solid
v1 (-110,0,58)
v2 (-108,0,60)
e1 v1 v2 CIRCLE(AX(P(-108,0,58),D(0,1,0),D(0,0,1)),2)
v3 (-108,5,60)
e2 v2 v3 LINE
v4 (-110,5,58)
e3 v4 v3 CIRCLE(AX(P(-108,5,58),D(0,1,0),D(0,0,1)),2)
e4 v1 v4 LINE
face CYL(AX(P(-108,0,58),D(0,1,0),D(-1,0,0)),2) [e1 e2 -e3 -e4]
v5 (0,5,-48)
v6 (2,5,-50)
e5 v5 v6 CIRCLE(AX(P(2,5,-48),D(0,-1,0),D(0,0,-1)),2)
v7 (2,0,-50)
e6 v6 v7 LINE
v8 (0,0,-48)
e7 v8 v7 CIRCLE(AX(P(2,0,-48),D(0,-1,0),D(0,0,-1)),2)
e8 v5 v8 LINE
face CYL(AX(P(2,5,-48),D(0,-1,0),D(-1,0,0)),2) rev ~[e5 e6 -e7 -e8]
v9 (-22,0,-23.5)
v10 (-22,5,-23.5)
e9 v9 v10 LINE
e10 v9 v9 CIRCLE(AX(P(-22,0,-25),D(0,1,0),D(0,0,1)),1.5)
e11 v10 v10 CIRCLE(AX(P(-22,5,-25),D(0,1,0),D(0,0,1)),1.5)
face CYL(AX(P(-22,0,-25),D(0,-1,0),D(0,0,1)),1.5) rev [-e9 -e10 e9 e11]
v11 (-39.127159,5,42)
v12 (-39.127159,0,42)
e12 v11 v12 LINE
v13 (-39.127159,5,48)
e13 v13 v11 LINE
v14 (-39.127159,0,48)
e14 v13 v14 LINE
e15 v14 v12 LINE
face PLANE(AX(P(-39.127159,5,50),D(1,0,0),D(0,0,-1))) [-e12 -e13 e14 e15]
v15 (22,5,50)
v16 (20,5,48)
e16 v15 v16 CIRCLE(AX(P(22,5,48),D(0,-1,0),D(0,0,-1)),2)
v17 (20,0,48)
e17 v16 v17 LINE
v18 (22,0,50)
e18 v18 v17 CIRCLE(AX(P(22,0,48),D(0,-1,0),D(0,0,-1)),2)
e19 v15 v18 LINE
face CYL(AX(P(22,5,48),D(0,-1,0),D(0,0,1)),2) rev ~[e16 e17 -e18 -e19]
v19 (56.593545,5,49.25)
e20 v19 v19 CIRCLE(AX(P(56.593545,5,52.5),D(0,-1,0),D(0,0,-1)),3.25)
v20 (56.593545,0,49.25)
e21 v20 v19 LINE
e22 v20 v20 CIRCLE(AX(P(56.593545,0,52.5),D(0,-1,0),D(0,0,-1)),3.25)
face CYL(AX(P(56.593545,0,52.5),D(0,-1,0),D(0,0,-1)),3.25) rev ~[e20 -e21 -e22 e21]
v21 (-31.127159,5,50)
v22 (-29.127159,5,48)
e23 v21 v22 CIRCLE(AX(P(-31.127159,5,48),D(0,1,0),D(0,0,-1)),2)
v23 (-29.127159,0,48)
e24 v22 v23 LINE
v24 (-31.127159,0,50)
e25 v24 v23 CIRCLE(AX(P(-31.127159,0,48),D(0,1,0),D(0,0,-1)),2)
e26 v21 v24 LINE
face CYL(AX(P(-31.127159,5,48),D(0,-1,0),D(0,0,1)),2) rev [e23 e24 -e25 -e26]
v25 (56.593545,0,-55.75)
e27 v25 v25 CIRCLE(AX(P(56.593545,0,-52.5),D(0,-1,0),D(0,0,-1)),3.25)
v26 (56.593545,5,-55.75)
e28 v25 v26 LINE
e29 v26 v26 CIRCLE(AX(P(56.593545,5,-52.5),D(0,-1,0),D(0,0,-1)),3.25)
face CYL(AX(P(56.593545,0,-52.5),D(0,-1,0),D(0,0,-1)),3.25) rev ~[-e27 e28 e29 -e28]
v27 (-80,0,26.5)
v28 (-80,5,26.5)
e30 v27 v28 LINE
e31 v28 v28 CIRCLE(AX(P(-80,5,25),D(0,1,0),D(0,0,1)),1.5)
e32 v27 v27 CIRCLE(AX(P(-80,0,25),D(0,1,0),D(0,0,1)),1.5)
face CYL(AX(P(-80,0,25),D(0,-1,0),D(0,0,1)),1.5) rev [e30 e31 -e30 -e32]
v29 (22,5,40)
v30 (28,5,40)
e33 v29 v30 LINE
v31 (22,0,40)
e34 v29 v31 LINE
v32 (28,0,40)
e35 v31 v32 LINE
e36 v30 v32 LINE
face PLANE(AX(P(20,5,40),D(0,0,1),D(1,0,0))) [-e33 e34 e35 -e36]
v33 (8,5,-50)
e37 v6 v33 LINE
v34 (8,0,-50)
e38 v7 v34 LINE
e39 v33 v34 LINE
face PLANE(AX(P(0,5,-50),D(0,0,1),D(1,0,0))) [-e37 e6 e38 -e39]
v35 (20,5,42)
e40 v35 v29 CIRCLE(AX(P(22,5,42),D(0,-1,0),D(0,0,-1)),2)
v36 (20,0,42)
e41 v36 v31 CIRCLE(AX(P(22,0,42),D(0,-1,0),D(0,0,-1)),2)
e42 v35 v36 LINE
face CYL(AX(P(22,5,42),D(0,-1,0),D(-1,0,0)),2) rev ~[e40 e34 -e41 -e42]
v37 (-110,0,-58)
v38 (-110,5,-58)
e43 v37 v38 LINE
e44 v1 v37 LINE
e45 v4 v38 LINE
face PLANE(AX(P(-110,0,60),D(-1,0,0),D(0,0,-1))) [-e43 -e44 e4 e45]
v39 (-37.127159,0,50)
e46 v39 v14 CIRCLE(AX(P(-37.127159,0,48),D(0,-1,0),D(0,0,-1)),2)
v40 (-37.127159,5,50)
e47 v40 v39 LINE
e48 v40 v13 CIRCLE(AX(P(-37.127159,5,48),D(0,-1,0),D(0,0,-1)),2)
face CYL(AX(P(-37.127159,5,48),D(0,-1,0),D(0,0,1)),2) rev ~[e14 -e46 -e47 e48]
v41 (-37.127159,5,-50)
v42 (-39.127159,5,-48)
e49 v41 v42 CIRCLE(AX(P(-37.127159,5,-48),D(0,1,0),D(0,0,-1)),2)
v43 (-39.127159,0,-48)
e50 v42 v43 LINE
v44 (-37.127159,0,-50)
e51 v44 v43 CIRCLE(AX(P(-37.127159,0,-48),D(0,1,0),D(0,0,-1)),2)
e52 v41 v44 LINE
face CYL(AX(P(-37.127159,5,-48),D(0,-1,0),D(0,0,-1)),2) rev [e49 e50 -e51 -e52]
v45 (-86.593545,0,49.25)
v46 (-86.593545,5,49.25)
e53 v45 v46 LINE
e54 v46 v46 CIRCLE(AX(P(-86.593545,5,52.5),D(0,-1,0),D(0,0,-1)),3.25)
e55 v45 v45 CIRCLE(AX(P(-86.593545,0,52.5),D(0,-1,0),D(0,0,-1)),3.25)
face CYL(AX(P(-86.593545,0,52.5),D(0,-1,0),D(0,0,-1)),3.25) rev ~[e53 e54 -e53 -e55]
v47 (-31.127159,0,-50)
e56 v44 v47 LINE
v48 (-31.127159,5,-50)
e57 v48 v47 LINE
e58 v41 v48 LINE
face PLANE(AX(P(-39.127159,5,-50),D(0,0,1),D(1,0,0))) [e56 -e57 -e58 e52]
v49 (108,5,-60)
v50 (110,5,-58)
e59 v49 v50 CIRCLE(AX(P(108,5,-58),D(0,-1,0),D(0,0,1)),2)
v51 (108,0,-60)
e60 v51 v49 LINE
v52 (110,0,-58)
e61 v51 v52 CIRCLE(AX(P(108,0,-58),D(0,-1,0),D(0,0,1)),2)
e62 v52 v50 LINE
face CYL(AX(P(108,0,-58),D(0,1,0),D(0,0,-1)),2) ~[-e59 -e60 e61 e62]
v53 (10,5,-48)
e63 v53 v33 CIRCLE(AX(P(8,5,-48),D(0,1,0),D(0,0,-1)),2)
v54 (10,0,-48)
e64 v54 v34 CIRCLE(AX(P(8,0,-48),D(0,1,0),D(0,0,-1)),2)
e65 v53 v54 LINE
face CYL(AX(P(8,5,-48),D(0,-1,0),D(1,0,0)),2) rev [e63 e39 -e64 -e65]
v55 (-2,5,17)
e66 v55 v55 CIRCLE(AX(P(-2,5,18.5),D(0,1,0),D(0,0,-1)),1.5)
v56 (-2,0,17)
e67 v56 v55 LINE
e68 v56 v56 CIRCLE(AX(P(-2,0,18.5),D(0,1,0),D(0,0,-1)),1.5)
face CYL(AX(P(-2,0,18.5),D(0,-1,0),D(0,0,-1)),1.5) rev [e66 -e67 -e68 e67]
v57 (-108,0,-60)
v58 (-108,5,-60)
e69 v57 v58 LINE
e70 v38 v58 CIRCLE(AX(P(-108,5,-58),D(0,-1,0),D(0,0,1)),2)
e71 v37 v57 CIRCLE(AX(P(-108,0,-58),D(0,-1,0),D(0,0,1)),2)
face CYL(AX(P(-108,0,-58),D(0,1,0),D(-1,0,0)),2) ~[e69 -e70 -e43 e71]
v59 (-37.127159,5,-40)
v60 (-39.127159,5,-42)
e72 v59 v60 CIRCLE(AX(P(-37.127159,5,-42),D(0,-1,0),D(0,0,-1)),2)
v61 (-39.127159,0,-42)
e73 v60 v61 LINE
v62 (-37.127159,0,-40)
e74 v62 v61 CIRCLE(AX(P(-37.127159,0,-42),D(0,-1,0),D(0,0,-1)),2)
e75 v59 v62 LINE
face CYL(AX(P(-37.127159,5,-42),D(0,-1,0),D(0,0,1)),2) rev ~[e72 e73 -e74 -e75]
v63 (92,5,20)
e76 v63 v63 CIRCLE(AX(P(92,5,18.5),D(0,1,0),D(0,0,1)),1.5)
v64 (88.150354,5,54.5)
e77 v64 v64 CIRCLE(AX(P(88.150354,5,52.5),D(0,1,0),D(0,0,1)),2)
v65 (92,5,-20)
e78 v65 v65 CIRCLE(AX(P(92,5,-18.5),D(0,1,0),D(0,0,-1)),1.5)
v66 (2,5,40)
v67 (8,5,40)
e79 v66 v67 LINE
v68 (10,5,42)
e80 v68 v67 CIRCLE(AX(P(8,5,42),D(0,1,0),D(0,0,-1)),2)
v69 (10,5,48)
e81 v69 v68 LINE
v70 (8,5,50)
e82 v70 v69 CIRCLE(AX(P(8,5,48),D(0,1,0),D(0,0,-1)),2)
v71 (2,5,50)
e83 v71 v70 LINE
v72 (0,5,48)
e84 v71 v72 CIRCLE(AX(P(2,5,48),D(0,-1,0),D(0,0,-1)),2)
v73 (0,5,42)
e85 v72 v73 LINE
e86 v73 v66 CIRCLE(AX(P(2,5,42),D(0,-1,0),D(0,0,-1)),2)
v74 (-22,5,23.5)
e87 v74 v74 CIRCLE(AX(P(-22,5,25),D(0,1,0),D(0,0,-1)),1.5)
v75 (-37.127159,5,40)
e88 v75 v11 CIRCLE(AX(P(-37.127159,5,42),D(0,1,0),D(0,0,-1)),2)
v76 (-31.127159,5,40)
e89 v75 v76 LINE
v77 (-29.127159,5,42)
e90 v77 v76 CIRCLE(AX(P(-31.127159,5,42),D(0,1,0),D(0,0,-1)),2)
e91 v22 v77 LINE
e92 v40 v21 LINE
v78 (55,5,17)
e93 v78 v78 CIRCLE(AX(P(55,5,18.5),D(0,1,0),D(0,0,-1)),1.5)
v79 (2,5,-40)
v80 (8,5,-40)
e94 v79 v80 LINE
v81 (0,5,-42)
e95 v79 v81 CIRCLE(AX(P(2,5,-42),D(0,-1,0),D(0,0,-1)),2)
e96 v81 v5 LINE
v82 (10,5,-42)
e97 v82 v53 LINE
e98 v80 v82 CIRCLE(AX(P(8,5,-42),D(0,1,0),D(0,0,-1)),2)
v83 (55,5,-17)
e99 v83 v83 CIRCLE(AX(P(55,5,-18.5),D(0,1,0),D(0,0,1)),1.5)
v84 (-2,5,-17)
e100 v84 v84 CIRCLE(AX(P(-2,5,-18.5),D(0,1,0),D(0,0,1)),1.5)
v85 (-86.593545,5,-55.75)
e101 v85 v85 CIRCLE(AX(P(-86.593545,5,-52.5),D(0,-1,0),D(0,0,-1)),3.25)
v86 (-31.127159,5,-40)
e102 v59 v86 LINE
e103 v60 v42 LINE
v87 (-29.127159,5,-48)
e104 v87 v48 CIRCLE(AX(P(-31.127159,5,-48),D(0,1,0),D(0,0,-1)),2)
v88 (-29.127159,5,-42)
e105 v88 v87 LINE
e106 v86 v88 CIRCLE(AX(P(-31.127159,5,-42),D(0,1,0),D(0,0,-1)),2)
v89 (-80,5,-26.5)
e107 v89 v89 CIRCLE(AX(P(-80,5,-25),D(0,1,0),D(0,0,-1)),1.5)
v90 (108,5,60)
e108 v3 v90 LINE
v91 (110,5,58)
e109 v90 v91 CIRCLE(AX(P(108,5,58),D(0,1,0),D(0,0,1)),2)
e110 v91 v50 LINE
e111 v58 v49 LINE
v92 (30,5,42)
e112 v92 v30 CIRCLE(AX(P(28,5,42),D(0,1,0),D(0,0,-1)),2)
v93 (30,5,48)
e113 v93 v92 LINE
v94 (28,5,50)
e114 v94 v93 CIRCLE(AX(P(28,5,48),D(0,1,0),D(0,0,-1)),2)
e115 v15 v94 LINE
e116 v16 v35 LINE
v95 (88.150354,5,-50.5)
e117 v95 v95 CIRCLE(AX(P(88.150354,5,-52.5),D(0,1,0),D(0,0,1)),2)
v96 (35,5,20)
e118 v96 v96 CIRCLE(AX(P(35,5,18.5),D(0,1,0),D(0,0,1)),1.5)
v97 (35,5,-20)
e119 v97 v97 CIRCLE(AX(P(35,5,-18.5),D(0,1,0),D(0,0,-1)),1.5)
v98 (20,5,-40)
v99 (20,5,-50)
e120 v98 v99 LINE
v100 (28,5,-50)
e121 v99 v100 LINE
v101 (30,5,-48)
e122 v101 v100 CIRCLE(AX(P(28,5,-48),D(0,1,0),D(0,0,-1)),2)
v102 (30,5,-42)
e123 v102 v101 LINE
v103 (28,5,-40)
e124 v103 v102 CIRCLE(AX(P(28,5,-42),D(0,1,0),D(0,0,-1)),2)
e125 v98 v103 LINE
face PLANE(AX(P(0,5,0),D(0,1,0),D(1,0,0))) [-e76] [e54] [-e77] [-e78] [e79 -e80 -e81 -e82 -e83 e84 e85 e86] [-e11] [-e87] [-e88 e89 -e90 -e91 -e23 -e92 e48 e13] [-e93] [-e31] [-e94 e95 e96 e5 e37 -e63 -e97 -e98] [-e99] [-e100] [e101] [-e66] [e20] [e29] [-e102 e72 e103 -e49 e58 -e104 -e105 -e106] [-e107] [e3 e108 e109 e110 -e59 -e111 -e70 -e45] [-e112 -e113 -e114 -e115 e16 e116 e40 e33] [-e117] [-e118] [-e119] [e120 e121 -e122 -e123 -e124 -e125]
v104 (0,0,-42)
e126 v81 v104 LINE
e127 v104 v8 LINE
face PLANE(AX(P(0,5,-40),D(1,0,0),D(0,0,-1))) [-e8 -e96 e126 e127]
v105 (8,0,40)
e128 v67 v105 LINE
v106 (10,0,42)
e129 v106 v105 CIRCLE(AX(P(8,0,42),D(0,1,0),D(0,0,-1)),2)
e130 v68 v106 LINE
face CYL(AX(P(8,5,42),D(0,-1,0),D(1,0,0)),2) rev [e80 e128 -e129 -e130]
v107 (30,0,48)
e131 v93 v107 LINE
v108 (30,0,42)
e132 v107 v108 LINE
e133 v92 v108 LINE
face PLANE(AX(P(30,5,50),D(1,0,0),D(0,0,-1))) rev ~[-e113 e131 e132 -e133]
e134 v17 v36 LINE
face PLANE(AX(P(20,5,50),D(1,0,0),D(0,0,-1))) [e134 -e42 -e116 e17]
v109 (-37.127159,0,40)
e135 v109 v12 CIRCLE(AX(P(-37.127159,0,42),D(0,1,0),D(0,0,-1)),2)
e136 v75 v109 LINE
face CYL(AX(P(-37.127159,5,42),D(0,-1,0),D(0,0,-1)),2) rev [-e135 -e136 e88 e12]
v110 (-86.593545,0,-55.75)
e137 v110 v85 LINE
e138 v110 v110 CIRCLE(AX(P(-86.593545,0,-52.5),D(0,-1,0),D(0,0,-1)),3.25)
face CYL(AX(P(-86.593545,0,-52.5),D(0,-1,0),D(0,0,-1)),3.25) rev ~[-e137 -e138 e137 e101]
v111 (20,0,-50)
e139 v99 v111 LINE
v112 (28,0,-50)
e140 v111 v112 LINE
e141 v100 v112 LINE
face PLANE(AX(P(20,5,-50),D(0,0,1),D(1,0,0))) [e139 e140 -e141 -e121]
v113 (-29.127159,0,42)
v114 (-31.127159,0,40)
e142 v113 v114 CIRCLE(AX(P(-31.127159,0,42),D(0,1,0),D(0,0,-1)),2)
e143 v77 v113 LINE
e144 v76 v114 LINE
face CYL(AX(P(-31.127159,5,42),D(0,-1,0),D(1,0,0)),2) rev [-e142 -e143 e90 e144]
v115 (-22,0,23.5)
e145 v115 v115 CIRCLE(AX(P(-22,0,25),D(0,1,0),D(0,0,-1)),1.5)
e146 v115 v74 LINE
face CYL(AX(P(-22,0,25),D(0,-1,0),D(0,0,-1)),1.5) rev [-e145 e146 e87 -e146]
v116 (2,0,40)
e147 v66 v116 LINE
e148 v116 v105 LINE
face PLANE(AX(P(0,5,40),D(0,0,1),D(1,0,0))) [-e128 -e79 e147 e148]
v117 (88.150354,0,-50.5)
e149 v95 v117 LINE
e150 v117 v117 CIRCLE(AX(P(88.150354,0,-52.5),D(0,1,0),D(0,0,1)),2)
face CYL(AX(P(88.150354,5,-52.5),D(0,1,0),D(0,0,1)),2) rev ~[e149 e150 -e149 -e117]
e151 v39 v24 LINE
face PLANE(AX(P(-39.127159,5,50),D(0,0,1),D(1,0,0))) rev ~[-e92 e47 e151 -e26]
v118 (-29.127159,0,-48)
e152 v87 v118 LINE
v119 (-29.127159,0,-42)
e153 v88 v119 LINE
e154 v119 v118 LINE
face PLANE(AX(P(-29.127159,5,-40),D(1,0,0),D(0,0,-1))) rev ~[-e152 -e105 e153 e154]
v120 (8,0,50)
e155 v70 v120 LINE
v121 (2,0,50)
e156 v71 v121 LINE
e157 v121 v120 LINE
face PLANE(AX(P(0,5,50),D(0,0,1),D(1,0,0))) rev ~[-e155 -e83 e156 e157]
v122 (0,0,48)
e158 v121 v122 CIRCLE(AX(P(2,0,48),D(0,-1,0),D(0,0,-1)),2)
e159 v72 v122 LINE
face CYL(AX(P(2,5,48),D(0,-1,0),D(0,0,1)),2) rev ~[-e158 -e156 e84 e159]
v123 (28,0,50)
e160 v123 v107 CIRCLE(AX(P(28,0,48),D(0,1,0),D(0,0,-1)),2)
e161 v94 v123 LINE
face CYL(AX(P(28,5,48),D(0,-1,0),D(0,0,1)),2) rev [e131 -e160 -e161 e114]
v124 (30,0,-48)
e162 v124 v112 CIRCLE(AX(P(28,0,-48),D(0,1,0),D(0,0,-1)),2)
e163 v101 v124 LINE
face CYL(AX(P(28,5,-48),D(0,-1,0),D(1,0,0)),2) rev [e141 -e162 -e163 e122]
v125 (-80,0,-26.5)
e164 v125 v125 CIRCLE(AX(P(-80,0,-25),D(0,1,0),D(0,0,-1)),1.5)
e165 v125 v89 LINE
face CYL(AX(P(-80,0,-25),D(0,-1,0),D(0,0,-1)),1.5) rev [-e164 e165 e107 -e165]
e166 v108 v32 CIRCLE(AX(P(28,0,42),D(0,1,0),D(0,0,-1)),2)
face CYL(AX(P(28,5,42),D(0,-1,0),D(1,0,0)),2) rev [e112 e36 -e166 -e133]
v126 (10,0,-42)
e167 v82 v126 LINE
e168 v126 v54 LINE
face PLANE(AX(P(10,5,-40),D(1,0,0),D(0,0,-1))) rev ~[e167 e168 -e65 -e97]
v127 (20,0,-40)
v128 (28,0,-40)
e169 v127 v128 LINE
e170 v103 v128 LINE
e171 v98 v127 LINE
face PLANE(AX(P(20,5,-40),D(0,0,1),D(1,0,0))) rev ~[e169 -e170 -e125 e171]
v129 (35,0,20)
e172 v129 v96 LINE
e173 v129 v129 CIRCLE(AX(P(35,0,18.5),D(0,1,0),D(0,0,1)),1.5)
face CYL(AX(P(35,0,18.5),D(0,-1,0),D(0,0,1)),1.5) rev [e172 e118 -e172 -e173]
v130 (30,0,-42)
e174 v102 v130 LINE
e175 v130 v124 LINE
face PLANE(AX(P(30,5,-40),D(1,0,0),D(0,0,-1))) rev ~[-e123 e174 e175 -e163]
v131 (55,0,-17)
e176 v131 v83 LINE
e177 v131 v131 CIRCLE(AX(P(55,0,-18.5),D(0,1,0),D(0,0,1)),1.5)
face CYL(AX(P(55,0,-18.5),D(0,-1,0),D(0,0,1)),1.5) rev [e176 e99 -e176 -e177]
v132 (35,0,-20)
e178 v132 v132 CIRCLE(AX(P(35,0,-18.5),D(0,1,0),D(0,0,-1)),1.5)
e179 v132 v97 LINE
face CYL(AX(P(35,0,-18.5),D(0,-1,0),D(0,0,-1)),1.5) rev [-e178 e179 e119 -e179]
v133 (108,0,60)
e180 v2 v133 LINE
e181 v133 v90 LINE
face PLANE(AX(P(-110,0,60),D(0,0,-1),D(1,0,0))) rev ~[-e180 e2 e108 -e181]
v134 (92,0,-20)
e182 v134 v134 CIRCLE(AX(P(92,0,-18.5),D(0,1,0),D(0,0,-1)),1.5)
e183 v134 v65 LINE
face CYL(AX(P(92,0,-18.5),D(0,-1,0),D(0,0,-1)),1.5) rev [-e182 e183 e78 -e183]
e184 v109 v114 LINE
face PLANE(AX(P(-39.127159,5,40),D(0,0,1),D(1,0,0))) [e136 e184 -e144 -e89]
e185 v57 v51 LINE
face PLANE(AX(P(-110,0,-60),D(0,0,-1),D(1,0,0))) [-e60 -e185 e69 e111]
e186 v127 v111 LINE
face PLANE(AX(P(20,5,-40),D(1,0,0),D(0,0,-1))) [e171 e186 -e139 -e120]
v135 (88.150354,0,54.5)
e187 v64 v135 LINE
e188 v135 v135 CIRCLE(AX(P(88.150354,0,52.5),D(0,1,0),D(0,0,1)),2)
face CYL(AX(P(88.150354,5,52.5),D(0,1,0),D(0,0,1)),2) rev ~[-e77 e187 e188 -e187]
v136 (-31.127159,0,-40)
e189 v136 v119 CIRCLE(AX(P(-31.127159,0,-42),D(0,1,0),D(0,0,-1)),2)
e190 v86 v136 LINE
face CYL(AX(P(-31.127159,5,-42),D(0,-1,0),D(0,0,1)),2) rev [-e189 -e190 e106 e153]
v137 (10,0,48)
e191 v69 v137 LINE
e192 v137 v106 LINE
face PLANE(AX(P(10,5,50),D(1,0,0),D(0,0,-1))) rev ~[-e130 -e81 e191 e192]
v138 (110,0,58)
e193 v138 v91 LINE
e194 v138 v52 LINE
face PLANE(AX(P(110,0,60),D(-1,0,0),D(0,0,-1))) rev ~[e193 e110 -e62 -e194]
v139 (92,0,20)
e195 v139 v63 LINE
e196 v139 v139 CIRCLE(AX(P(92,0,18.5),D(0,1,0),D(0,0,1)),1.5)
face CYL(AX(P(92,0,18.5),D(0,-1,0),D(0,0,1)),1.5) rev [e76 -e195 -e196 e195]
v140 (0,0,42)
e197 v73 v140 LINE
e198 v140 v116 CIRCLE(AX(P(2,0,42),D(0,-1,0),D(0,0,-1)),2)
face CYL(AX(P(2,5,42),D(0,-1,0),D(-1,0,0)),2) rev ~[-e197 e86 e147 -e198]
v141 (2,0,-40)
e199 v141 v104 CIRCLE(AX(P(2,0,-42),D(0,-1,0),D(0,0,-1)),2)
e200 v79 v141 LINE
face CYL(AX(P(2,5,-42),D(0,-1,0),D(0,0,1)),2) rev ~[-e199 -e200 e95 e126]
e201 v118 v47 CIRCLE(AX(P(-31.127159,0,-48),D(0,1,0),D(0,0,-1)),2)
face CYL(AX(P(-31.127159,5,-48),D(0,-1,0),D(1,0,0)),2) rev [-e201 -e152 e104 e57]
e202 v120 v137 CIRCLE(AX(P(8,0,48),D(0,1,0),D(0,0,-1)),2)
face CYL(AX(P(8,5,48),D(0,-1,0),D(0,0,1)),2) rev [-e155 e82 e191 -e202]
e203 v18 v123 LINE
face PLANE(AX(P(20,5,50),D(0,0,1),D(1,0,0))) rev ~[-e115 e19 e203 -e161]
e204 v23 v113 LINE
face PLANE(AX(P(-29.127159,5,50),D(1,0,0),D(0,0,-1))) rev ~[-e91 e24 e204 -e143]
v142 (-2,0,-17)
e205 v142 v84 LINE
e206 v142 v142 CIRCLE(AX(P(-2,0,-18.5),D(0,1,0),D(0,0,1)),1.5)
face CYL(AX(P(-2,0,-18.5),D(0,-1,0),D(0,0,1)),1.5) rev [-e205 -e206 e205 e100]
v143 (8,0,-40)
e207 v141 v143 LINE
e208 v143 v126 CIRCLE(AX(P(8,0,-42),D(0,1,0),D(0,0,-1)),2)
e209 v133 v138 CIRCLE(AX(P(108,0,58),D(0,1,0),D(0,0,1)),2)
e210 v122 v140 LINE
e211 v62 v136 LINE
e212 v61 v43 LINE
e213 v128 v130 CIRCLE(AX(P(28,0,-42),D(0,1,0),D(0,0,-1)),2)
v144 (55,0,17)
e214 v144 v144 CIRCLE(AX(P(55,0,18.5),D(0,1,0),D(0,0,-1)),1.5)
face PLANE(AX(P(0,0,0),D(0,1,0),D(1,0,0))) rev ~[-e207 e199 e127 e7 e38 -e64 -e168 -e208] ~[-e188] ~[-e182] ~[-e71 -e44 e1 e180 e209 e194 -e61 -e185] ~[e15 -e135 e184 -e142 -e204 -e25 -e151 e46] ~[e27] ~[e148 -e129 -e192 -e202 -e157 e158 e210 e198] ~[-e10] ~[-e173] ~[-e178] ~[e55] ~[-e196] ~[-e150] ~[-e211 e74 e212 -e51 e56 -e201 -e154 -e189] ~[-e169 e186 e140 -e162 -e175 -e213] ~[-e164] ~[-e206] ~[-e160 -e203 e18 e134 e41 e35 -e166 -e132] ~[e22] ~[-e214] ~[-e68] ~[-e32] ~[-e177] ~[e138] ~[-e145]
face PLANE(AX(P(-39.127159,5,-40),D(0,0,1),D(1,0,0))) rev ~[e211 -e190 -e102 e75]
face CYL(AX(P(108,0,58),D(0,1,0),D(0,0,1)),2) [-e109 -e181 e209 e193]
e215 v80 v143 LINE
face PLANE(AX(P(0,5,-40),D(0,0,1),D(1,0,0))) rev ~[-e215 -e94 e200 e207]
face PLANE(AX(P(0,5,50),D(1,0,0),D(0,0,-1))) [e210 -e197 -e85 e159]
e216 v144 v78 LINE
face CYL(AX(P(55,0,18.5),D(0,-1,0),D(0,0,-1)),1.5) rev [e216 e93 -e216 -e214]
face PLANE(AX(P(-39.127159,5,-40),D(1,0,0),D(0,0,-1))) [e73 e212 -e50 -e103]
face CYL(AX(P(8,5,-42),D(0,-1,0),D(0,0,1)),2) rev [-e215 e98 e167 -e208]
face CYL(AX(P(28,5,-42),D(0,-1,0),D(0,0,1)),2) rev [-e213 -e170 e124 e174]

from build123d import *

# Parameters (mm, degrees)
SKETCH1_W           = 220
SKETCH1_H           = 120
SKETCH1_R           = 1.5
BOSS_EXTRUDE1_DEPTH = 5
SKETCH2_R           = 3.25
CUT_EXTRUDE1_DEPTH  = 5
SKETCH3_W           = 10
SKETCH3_H           = 10
CUT_EXTRUDE2_DEPTH  = 82.783407155
SKETCH4_W           = 10
SKETCH4_H           = 10
CUT_EXTRUDE3_DEPTH  = 5
FILLET1_R           = 2
SKETCH5_R           = 2
CUT_EXTRUDE4_DEPTH  = 5


with BuildPart() as part:
    # Sketch1 → Boss-Extrude1 (new body)
    with BuildSketch(Plane(origin=(0, 0, 0), x_dir=(1, 0, 0), z_dir=(0, 1, 0))):
        Rectangle(SKETCH1_W, SKETCH1_H)
        with Locations(Location((-22, 25, 0), (0, 0, 270))):
            Circle(SKETCH1_R, mode=Mode.SUBTRACT)
        with Locations(Location((-80, 25, 0), (0, 0, 90))):
            Circle(SKETCH1_R, mode=Mode.SUBTRACT)
        with Locations(Location((-22, -25, 0), (0, 0, 90))):
            Circle(SKETCH1_R, mode=Mode.SUBTRACT)
        with Locations(Location((-80, -25, 0), (0, 0, 270))):
            Circle(SKETCH1_R, mode=Mode.SUBTRACT)
        with Locations(Location((-2, 18.5, 0), (0, 0, 270))):
            Circle(SKETCH1_R, mode=Mode.SUBTRACT)
        with Locations(Location((35, 18.5, 0), (0, 0, 90))):
            Circle(SKETCH1_R, mode=Mode.SUBTRACT)
        with Locations(Location((35, -18.5, 0), (0, 0, 270))):
            Circle(SKETCH1_R, mode=Mode.SUBTRACT)
        with Locations(Location((-2, -18.5, 0), (0, 0, 90))):
            Circle(SKETCH1_R, mode=Mode.SUBTRACT)
        with Locations(Location((55, -18.5, 0), (0, 0, 90))):
            Circle(SKETCH1_R, mode=Mode.SUBTRACT)
        with Locations(Location((92, -18.5, 0), (0, 0, 270))):
            Circle(SKETCH1_R, mode=Mode.SUBTRACT)
        with Locations(Location((55, 18.5, 0), (0, 0, 270))):
            Circle(SKETCH1_R, mode=Mode.SUBTRACT)
        with Locations(Location((92, 18.5, 0), (0, 0, 90))):
            Circle(SKETCH1_R, mode=Mode.SUBTRACT)
    extrude(amount=BOSS_EXTRUDE1_DEPTH)

    # Sketch2 → Cut-Extrude1 (cut)
    with BuildSketch(Plane.XZ):
        with Locations(Location((56.593545043, -52.5, 0), (0, 0, 270))):
            Circle(SKETCH2_R)
        with Locations(Location((-86.593545043, -52.5, 0), (0, 0, 270))):
            Circle(SKETCH2_R)
        with Locations(Location((-86.593545043, 52.5, 0), (0, 0, 270))):
            Circle(SKETCH2_R)
        with Locations(Location((56.593545043, 52.5, 0), (0, 0, 270))):
            Circle(SKETCH2_R)
    extrude(amount=-CUT_EXTRUDE1_DEPTH, mode=Mode.SUBTRACT)

    # Sketch3 → Cut-Extrude2 (cut)
    with BuildSketch(Plane(origin=(0, 5, 0), x_dir=(1, 0, 0), z_dir=(0, 1, 0))):
        with Locations((5, -45)):
            Rectangle(SKETCH3_W, SKETCH3_H)
        with Locations((25, -45)):
            Rectangle(SKETCH3_W, SKETCH3_H)
        with Locations((25, 45)):
            Rectangle(SKETCH3_W, SKETCH3_H)
        with Locations((5, 45)):
            Rectangle(SKETCH3_W, SKETCH3_H)
    extrude(amount=-CUT_EXTRUDE2_DEPTH, mode=Mode.SUBTRACT)

    # Sketch4 → Cut-Extrude3 (cut)
    with BuildSketch(Plane(origin=(0, 5, 0), x_dir=(1, 0, 0), z_dir=(0, 1, 0))):
        with Locations((-34.127158997, -45)):
            Rectangle(SKETCH4_W, SKETCH4_H)
        with Locations((-34.127158997, 45)):
            Rectangle(SKETCH4_W, SKETCH4_H)
    extrude(amount=-CUT_EXTRUDE3_DEPTH, mode=Mode.SUBTRACT)

    # Fillet1
    fillet1_edges = [part.edges().sort_by_distance(p)[0] for p in [
        (0, 2.5, -50),
        (10, 2.5, -50),
        (10, 2.5, -40),
        (0, 2.5, -40),
        (30, 2.5, -50),
        (30, 2.5, -40),
        (30, 2.5, 40),
        (30, 2.5, 50),
        (20, 2.5, 50),
        (20, 2.5, 40),
        (0, 2.5, 50),
        (0, 2.5, 40),
        (10, 2.5, 40),
        (10, 2.5, 50),
        (-29.127158997, 2.5, 40),
        (-29.127158997, 2.5, 50),
        (-39.127158997, 2.5, 50),
        (-39.127158997, 2.5, 40),
        (-39.127158997, 2.5, -50),
        (-29.127158997, 2.5, -50),
        (-29.127158997, 2.5, -40),
        (-39.127158997, 2.5, -40),
        (-110, 2.5, -60),
        (110, 2.5, -60),
        (110, 2.5, 60),
        (-110, 2.5, 60),
    ]]
    fillet(fillet1_edges, radius=FILLET1_R)

    # Sketch5 → Cut-Extrude4 (cut)
    with BuildSketch(Plane(origin=(0, 5, 0), x_dir=(1, 0, 0), z_dir=(0, 1, 0))):
        with Locations(Location((88.15035354, -52.5, 0), (0, 0, 270))):
            Circle(SKETCH5_R)
        with Locations(Location((88.15035354, 52.5, 0), (0, 0, 270))):
            Circle(SKETCH5_R)
    extrude(amount=-CUT_EXTRUDE4_DEPTH, mode=Mode.SUBTRACT)


solid = part.part
